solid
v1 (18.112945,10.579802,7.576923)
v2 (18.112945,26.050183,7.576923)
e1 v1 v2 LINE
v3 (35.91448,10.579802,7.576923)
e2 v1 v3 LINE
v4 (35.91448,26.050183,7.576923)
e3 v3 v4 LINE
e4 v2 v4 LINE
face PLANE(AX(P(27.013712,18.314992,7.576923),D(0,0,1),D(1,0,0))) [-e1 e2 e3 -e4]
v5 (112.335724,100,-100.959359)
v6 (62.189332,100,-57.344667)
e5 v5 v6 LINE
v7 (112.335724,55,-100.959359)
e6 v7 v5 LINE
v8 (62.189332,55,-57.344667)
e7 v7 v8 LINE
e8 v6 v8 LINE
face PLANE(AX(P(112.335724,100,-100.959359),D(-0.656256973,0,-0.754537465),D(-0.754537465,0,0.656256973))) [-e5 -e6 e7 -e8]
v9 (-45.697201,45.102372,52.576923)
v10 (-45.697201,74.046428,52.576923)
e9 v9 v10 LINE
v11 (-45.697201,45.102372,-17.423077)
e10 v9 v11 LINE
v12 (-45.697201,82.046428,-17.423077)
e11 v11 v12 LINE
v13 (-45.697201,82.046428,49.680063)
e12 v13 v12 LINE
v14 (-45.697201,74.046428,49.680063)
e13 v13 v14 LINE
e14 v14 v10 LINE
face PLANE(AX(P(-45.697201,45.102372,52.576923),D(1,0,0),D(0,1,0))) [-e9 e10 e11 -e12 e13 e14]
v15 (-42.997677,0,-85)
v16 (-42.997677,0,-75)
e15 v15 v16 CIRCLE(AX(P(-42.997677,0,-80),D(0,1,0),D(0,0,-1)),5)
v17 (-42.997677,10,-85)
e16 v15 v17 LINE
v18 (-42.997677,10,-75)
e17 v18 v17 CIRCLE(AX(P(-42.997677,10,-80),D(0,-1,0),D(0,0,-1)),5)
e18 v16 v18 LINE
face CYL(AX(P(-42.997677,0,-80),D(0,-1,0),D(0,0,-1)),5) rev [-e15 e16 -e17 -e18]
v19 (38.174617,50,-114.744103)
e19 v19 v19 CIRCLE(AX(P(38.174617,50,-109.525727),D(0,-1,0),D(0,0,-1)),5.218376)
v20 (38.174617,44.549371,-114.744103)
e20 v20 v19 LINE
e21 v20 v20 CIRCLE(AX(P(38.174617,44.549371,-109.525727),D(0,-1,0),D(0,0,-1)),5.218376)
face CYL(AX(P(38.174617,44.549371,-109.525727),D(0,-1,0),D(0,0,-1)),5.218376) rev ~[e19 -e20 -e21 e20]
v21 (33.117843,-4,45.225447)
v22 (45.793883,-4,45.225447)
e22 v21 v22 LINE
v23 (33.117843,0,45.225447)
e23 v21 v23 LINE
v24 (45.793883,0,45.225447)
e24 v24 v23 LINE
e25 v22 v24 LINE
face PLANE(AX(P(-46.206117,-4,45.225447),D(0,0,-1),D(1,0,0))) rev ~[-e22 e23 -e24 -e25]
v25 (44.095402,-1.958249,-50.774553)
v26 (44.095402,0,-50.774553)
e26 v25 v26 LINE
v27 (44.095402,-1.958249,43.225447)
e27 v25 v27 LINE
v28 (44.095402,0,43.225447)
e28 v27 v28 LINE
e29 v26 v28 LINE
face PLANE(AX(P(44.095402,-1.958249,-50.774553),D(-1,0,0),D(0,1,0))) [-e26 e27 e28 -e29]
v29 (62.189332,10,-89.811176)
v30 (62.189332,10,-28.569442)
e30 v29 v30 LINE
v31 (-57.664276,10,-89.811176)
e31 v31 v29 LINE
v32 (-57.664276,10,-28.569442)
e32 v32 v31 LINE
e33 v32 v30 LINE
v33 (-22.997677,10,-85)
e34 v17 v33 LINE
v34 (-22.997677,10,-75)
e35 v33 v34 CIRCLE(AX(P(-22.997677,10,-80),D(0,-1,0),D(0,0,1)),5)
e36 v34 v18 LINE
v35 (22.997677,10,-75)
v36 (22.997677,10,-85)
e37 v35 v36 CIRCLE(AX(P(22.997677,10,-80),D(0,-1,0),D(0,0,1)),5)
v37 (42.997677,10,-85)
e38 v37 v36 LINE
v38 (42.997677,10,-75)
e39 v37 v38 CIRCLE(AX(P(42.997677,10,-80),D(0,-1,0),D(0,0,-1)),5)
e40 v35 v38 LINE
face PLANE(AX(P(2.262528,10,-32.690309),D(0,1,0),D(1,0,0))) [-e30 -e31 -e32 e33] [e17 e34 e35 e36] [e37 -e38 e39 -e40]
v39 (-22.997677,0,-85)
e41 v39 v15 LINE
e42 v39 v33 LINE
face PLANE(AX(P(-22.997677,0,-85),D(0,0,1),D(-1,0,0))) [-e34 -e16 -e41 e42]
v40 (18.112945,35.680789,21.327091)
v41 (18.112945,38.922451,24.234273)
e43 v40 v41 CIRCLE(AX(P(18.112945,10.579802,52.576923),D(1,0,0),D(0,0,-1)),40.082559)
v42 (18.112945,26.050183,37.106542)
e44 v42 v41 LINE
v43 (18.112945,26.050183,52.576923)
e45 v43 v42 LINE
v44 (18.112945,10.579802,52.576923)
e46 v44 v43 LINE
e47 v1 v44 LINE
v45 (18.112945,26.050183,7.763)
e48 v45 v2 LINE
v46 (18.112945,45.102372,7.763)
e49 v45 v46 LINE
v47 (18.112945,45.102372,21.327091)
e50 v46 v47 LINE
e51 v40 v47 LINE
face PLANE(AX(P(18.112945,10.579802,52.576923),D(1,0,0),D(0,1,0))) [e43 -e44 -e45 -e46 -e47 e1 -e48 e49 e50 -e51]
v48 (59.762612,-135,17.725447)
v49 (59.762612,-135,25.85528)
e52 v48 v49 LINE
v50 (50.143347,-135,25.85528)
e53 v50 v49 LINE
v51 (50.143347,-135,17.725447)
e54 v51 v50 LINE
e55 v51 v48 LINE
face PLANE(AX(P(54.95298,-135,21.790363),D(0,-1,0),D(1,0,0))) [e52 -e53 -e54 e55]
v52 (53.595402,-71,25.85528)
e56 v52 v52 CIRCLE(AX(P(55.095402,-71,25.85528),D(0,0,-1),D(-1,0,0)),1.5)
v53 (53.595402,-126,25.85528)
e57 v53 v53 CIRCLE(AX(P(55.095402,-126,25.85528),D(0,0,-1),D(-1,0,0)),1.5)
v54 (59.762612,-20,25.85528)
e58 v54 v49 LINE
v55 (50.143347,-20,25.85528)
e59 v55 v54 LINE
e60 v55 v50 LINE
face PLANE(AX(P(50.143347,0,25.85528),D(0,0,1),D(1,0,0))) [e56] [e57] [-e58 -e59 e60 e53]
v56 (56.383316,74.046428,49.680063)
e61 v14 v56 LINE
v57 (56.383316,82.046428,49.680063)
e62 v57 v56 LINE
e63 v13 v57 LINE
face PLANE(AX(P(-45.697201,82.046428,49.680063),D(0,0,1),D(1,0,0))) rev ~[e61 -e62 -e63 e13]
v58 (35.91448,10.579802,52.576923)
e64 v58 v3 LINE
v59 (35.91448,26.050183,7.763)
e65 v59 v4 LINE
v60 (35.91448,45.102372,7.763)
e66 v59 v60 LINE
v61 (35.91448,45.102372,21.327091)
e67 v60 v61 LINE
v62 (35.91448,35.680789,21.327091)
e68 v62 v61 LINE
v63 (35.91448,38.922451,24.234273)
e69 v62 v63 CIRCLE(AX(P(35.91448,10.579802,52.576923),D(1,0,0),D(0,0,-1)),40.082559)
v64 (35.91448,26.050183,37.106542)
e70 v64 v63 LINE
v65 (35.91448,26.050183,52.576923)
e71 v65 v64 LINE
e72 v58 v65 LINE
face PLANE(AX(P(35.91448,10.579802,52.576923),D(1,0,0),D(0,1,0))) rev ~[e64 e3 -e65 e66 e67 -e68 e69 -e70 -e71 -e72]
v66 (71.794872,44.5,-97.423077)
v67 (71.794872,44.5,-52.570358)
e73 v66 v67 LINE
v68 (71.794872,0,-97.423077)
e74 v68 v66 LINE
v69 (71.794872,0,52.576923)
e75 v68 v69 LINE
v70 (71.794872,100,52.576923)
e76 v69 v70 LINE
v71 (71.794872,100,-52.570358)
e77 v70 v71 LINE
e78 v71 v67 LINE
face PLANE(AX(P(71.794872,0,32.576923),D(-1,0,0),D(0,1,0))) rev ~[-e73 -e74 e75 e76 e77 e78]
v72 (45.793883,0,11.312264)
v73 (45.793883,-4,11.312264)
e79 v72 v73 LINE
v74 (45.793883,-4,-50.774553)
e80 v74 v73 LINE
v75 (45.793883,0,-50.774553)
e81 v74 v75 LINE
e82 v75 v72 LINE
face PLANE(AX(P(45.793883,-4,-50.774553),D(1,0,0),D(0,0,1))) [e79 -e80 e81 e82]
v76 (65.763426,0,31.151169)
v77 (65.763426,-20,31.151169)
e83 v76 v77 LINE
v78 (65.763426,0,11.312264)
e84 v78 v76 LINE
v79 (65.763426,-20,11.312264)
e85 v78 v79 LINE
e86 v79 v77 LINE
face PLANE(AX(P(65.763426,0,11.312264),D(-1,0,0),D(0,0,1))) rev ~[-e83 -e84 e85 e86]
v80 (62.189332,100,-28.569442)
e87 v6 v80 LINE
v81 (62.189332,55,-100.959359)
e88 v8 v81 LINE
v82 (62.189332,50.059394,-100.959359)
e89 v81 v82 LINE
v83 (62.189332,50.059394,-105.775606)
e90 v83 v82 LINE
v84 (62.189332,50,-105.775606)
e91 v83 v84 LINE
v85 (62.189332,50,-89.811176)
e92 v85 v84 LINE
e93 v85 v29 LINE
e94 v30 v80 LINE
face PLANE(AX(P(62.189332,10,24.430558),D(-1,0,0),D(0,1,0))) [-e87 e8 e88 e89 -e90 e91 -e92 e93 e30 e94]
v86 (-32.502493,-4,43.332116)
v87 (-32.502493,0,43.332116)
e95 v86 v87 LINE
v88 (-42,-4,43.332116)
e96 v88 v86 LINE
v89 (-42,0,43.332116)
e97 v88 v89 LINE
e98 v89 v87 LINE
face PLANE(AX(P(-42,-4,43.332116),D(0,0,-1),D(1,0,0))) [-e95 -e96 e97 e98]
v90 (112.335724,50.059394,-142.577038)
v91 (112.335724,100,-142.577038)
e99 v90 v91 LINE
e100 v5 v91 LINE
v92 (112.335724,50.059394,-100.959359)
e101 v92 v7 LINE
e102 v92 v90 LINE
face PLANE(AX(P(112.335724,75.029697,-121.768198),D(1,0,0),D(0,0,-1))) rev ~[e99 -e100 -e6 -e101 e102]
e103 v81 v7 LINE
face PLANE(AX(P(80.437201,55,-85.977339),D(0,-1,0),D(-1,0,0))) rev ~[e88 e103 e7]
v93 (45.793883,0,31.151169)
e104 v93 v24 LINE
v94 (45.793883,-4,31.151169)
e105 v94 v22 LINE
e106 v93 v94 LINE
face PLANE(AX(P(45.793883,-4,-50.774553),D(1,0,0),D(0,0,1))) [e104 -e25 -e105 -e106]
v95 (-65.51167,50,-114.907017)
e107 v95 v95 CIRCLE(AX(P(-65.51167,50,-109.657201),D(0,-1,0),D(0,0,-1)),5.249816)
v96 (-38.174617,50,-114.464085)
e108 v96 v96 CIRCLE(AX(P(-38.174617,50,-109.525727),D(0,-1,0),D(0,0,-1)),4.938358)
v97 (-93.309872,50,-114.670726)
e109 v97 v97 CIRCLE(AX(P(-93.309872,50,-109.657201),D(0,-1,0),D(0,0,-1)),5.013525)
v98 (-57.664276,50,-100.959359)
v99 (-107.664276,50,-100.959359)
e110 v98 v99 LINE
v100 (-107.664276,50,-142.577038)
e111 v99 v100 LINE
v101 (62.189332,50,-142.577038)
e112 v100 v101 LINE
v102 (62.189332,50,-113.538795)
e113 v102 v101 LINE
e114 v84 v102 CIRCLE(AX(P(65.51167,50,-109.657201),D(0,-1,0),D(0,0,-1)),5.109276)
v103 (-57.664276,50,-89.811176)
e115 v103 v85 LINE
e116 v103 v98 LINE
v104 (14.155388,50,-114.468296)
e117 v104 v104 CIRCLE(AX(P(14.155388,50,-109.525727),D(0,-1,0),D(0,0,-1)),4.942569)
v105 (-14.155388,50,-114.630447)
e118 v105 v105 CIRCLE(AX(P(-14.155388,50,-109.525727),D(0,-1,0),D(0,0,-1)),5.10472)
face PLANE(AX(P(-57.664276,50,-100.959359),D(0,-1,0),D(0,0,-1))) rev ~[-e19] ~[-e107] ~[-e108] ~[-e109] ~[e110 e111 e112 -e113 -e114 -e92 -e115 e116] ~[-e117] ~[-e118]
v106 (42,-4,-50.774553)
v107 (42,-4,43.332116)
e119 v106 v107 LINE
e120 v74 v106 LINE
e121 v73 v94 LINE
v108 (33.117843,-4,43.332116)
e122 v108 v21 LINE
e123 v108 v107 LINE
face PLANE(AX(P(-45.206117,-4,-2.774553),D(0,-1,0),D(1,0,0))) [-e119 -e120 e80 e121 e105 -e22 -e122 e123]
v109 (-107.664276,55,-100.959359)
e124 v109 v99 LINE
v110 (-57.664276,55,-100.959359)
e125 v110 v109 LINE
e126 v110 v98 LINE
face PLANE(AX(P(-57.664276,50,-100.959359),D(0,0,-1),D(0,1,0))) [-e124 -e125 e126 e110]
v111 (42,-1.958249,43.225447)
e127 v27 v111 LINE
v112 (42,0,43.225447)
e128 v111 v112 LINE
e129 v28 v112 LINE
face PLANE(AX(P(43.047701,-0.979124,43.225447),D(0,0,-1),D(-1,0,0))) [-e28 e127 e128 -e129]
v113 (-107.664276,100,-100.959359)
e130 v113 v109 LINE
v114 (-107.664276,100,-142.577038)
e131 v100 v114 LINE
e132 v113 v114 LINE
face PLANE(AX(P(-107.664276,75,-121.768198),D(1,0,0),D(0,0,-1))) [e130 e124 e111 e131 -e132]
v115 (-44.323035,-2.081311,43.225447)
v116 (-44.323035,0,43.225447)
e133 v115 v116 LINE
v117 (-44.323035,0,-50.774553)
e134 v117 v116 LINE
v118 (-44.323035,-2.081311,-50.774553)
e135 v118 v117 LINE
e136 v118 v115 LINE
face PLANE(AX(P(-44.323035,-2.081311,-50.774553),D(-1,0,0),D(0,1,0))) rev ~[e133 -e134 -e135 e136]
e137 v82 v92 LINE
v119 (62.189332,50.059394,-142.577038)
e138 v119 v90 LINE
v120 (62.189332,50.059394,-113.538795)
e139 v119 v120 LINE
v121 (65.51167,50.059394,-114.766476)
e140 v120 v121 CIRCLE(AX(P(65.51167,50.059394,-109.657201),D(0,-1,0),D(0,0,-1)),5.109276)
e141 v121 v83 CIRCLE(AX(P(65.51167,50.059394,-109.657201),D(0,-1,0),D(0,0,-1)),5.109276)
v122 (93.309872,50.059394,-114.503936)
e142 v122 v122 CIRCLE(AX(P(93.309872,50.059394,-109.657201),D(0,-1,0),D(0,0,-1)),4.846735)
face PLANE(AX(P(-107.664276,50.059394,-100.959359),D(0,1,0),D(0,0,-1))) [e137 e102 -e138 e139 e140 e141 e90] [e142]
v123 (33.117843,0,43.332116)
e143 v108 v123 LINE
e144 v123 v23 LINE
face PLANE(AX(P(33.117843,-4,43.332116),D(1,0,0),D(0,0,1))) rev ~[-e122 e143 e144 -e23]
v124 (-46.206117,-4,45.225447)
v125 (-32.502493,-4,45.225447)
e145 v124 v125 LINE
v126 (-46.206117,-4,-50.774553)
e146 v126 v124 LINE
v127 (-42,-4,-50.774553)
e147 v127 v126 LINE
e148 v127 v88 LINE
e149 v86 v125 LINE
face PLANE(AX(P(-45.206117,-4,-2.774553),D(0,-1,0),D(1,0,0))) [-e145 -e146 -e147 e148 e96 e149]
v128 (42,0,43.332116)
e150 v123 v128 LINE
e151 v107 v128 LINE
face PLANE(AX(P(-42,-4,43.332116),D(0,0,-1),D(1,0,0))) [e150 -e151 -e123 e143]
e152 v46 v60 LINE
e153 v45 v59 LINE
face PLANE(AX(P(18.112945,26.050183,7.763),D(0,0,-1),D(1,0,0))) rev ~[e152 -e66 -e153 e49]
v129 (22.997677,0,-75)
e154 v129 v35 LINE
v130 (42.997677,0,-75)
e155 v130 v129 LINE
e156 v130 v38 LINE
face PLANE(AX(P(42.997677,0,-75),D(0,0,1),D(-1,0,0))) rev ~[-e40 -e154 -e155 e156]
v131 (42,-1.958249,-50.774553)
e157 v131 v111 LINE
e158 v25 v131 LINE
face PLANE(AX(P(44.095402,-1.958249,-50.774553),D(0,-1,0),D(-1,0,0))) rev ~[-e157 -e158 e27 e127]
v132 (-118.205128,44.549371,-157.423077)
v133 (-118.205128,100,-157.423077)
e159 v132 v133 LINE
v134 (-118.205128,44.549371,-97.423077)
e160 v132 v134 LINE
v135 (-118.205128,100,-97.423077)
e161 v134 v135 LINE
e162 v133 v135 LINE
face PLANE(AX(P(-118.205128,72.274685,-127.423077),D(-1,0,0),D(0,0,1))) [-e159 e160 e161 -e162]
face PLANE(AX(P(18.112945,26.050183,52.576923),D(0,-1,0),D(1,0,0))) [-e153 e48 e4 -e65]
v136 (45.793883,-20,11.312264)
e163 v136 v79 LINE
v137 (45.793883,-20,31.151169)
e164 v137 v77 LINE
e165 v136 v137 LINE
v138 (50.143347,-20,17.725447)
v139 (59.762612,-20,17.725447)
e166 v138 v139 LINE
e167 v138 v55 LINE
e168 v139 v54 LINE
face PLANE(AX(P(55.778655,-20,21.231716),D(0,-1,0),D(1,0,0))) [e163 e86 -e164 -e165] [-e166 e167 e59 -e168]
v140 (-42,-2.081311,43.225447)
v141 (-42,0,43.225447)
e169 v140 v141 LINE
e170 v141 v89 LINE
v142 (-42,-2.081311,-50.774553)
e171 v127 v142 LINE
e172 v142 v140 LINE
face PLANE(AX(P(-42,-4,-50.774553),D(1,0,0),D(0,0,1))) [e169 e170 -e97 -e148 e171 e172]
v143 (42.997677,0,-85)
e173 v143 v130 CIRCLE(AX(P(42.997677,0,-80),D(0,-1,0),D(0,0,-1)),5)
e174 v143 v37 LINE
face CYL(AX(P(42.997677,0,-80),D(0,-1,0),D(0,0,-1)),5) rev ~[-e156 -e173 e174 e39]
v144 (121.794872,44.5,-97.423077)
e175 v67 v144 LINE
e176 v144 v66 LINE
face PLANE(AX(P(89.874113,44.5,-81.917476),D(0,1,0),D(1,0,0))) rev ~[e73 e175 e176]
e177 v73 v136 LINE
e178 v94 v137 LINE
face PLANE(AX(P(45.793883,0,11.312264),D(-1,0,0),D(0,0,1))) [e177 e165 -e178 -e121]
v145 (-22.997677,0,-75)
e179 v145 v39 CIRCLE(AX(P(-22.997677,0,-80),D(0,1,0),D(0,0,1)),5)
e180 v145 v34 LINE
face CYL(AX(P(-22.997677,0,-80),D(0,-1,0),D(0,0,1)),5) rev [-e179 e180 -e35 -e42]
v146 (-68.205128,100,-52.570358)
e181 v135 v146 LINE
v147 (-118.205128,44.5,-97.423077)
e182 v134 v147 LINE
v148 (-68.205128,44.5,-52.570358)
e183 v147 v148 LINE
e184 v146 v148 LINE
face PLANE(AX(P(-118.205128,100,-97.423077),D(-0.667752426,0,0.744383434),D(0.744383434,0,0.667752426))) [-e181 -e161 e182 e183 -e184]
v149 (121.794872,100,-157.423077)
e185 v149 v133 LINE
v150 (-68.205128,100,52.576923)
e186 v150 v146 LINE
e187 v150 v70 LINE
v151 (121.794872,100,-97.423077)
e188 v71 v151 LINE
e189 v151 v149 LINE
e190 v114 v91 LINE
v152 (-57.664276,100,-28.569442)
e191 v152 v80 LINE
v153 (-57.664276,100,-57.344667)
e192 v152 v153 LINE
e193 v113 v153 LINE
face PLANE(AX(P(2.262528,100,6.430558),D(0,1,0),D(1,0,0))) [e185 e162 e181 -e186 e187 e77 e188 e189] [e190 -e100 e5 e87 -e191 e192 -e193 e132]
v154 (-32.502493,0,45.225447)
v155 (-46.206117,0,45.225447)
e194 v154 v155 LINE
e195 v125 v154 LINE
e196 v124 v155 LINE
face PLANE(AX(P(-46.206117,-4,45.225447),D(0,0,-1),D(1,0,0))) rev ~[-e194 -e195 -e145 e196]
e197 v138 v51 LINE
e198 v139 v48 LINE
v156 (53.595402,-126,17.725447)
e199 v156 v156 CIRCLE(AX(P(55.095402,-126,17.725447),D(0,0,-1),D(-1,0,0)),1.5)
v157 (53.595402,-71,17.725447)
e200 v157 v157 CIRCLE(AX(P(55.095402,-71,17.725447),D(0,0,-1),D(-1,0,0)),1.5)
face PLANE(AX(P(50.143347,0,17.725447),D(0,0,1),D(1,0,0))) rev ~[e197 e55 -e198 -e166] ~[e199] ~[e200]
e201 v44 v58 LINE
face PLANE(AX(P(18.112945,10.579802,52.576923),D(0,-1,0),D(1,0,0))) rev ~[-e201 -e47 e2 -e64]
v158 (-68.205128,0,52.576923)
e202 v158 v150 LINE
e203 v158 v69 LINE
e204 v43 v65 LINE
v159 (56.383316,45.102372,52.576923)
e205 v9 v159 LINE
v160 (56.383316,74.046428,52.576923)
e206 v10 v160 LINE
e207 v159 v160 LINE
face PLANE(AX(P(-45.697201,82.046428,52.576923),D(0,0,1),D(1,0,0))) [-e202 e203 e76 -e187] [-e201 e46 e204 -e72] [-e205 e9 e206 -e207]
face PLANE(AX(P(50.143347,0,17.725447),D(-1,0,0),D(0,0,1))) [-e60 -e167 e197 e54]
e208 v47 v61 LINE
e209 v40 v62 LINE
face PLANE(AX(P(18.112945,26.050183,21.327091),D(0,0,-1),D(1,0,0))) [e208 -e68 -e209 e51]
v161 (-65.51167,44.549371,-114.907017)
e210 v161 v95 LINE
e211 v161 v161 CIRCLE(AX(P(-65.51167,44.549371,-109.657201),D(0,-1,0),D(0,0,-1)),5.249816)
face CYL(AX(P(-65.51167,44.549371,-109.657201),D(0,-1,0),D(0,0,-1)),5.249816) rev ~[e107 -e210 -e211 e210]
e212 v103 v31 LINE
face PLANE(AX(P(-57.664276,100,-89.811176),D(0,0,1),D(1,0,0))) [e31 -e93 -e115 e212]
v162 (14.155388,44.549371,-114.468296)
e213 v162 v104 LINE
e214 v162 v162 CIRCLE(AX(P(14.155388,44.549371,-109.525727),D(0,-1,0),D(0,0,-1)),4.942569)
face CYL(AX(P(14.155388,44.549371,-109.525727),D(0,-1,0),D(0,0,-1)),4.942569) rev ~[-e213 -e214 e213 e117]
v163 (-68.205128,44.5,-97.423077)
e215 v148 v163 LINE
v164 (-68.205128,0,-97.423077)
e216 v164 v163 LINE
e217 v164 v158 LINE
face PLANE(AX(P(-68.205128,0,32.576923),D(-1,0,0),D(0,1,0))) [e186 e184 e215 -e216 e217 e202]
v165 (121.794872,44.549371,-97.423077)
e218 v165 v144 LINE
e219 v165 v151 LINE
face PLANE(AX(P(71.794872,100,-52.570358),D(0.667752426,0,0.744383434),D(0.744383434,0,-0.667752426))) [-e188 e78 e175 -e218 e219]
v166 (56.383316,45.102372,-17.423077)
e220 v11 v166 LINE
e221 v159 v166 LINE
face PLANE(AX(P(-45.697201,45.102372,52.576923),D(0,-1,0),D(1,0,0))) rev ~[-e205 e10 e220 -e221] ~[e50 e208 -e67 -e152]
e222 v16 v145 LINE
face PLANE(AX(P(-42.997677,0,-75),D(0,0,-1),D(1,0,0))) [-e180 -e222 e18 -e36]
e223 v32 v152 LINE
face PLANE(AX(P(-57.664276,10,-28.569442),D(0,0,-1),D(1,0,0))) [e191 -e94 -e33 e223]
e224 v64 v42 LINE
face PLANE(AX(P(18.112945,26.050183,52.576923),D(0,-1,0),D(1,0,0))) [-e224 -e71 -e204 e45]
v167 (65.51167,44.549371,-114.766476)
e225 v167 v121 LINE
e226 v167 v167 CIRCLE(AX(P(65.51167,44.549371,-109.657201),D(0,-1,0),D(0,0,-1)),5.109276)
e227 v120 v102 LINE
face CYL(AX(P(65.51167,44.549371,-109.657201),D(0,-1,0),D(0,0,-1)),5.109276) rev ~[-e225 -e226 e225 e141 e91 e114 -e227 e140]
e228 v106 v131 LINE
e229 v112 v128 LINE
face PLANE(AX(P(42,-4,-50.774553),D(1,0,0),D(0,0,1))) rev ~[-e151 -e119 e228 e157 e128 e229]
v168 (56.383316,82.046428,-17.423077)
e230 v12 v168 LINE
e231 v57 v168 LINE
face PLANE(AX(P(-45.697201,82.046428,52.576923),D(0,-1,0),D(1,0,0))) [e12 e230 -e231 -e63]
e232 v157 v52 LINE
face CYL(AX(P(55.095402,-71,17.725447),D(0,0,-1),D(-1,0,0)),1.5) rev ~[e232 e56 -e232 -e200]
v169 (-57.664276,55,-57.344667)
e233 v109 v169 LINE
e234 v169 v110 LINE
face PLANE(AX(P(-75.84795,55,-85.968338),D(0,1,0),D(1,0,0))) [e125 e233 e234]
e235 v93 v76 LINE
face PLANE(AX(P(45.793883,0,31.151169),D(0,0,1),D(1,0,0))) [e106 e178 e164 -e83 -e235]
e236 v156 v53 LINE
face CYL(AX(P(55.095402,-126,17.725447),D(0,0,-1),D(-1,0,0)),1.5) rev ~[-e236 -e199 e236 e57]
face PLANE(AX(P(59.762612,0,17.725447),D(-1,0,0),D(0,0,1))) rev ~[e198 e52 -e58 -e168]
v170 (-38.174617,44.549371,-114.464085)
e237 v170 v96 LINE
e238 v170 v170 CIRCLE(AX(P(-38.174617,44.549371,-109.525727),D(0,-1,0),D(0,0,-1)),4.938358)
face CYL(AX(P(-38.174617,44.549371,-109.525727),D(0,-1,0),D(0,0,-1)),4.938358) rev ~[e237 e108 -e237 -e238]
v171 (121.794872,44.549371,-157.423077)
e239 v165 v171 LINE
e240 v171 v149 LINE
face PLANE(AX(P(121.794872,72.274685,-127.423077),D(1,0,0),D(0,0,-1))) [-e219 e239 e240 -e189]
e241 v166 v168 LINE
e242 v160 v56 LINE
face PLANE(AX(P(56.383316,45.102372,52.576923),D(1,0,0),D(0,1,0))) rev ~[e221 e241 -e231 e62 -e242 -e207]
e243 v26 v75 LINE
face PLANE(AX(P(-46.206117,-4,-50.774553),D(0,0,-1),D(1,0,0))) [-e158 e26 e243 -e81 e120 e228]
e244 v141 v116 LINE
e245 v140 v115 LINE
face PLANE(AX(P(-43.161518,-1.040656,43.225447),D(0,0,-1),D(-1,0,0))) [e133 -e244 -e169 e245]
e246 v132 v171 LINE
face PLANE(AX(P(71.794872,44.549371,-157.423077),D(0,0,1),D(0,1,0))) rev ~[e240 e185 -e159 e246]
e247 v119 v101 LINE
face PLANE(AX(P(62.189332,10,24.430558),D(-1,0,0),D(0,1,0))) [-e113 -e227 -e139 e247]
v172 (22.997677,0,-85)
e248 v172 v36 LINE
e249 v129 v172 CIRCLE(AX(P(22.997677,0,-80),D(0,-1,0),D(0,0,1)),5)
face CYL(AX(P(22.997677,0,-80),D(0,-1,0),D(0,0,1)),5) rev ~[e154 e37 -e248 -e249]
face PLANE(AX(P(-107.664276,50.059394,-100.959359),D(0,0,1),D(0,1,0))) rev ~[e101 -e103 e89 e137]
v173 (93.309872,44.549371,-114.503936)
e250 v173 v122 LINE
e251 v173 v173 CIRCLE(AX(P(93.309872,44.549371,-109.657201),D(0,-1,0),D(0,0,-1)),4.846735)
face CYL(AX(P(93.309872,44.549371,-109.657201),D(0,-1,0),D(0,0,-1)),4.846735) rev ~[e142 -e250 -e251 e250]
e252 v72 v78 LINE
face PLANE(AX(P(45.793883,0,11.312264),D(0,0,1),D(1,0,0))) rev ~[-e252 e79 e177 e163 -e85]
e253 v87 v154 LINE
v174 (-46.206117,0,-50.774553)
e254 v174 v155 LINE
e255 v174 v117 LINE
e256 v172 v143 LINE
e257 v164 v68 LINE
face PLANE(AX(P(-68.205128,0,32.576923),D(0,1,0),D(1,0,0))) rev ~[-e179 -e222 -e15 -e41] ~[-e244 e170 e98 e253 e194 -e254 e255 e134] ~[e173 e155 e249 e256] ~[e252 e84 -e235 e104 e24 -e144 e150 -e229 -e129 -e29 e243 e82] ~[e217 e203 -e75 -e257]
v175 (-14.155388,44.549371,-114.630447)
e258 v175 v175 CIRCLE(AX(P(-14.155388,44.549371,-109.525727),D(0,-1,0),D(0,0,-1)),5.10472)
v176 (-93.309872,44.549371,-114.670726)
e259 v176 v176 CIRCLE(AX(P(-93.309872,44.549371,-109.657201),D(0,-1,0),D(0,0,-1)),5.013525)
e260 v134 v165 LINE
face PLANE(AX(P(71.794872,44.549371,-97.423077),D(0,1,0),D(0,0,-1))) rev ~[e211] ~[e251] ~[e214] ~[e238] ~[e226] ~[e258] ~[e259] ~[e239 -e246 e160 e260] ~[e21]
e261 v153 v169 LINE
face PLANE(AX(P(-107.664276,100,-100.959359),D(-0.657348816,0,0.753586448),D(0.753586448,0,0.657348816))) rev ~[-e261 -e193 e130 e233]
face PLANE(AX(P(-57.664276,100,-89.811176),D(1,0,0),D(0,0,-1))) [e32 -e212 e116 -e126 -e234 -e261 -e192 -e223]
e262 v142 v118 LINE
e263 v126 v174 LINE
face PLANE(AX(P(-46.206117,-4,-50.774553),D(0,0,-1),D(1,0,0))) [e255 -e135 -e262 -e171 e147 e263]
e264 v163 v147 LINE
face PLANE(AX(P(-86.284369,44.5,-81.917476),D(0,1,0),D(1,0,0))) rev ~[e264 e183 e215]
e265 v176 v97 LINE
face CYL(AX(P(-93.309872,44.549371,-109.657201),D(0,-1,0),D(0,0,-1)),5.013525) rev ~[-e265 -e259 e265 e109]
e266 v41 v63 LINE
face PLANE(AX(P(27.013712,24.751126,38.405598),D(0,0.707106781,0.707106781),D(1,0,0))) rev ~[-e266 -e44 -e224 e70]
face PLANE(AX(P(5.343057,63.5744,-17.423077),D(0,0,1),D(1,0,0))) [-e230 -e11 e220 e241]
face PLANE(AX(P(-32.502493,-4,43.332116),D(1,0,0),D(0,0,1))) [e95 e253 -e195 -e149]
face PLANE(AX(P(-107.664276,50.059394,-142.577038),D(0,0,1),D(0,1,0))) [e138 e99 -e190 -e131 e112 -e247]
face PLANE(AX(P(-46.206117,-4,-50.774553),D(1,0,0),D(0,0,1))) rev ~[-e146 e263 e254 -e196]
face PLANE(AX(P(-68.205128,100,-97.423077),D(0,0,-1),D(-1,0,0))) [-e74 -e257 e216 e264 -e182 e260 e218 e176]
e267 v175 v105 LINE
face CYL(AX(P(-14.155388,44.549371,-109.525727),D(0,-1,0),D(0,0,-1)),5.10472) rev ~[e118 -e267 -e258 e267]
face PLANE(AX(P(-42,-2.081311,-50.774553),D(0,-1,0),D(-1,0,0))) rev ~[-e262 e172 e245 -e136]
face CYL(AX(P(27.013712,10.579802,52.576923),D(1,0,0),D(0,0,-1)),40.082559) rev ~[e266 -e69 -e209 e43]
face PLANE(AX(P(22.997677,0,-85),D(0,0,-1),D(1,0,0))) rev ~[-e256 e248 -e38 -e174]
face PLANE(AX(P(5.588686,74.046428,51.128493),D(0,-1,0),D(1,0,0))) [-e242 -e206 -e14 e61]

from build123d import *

# Parameters (mm, degrees)
SKETCH_8_W           = 140
SKETCH_8_H           = 130
EXTRUDE_2_DEPTH      = 100
SKETCH_9_W           = 119.853608507
SKETCH_9_H           = 114.241733861
CUT_EXTRUDE_2_DEPTH  = 90
SKETCH_10_W          = 140
SKETCH_10_H          = 55.45062913
EXTRUDE_3_DEPTH      = 60
SKETCH_11_W          = 119.853608507
SKETCH_11_H          = 52.765862156
CUT_EXTRUDE_3_DEPTH  = 50
SKETCH_12_W          = 60
SKETCH_12_H          = 55.45062913
EXTRUDE_4_DEPTH      = 50
SKETCH_13_W          = 60
SKETCH_13_H          = 55.45062913
EXTRUDE_5_DEPTH      = 50
SKETCH_15_W          = 41.61767962
SKETCH_15_H          = 50
CUT_EXTRUDE_5_DEPTH  = 50
SKETCH_16_W          = 41.61767962
SKETCH_16_H          = 49.940605531
CUT_EXTRUDE_6_DEPTH  = 220
SKETCH_18_W          = 140
SKETCH_18_H          = 100
EXTRUDE_6_DEPTH      = 20
SKETCH_19_W          = 119.853608507
SKETCH_19_H          = 90
CUT_EXTRUDE_7_DEPTH  = 17
CUT_EXTRUDE_8_DEPTH  = 17
SKETCH_29_R          = 5.01352521
SKETCH_29_R_2        = 5.249816441
SKETCH_29_R_3        = 4.93835751
SKETCH_29_R_4        = 5.104719563
SKETCH_29_R_5        = 4.942569228
SKETCH_29_R_6        = 5.218376227
SKETCH_29_R_7        = 5.109275874
SKETCH_29_R_8        = 4.846735289
CUT_EXTRUDE_9_DEPTH  = 17
EXTRUDE_9_DEPTH      = 4
SKETCH_37_W          = 2
SKETCH_37_H          = 96
EXTRUDE_10_DEPTH     = 4
SKETCH_39_W          = 84
SKETCH_39_H          = 94.106669422
CUT_EXTRUDE_10_DEPTH = 4
SKETCH_40_W          = 2.323035316
SKETCH_40_H          = 2.081311216
CUT_EXTRUDE_12_DEPTH = 94
SKETCH_42_W          = 2.095402412
SKETCH_42_H          = 1.958248824
CUT_EXTRUDE_13_DEPTH = 94
SKETCH_43_W          = 9.619264996
SKETCH_43_H          = 8.129833148
EXTRUDE_11_DEPTH     = 135
SKETCH_44_R          = 1.5
CUT_EXTRUDE_14_DEPTH = 40
SKETCH_45_W          = 19.969543159
SKETCH_45_H          = 19.838905337
EXTRUDE_12_DEPTH     = 20
EXTRUDE_13_DEPTH     = 55.5
CUT_EXTRUDE_15_DEPTH = 45
SKETCH_50_W          = 119.853608507
SKETCH_50_H          = 70
EXTRUDE_14_DEPTH     = 90
SKETCH_51_W          = 102.080516597
SKETCH_51_H          = 36.944055187
CUT_EXTRUDE_17_DEPTH = 70
SKETCH_52_W          = 102.571773441
SKETCH_52_H          = 2.896860024
EXTRUDE_16_DEPTH     = 8
SKETCH_54_W          = 65.620335911
SKETCH_54_H          = 1.893330578
CUT_EXTRUDE_18_DEPTH = 4
SKETCH_55_W          = 6.653347609
SKETCH_55_H          = 11.160454054
EXTRUDE_17_DEPTH     = 8
SKETCH_56_W          = 4.450383643
SKETCH_56_H          = 9.96038244
EXTRUDE_18_DEPTH     = 8
SKETCH_57_R          = 1.5
CUT_EXTRUDE_19_DEPTH = 20
SKETCH_58_W          = 17.801534575
SKETCH_58_H          = 15.470381237
CUT_EXTRUDE_21_DEPTH = 45
SKETCH_59_W          = 17.801534575
SKETCH_59_H          = 13.564090588
CUT_EXTRUDE_22_DEPTH = 25
SKETCH_62_W          = 17.801534575
SKETCH_62_H          = 40.082559496
CUT_REVOLVE_1_ANGLE  = 45


with BuildPart() as part:
    # 草图8 → 凸台-拉伸2 (new body)
    with BuildSketch(Plane(origin=(0, 0, 0), x_dir=(1, 0, 0), z_dir=(0, 1, 0))):
        with Locations((1.794871795, 32.423076923)):
            Rectangle(SKETCH_8_W, SKETCH_8_H)
    extrude(amount=EXTRUDE_2_DEPTH)

    # 草图9 → 切除-拉伸2 (cut)
    with BuildSketch(Plane(origin=(0, 100, 0), x_dir=(1, 0, 0), z_dir=(0, 1, 0))):
        with Locations((2.262528015, 32.69030905)):
            Rectangle(SKETCH_9_W, SKETCH_9_H)
    extrude(amount=-CUT_EXTRUDE_2_DEPTH, mode=Mode.SUBTRACT)

    # 草图10 → 凸台-拉伸3 (add)
    with BuildSketch(Plane(origin=(0, 0, -97.423076923), x_dir=(-1, 0, 0), z_dir=(0, 0, -1))):
        with Locations((-1.794871795, 72.274685435)):
            Rectangle(SKETCH_10_W, SKETCH_10_H)
    extrude(amount=EXTRUDE_3_DEPTH)

    # 草图11 → 切除-拉伸3 (cut)
    with BuildSketch(Plane(origin=(0, 100, 0), x_dir=(1, 0, 0), z_dir=(0, 1, 0))):
        with Locations((2.262528015, 116.194107058)):
            Rectangle(SKETCH_11_W, SKETCH_11_H)
    extrude(amount=-CUT_EXTRUDE_3_DEPTH, mode=Mode.SUBTRACT)

    # 草图12 → 凸台-拉伸4 (add)
    with BuildSketch(Plane.ZY.offset(68.205128205)):
        with Locations((-127.423076923, 72.274685435)):
            Rectangle(SKETCH_12_W, SKETCH_12_H)
    extrude(amount=EXTRUDE_4_DEPTH)

    # 草图13 → 凸台-拉伸5 (add)
    with BuildSketch(Plane(origin=(71.794871795, 0, 0), x_dir=(0, 0, -1), z_dir=(1, 0, 0))):
        with Locations((127.423076923, 72.274685435)):
            Rectangle(SKETCH_13_W, SKETCH_13_H)
    extrude(amount=EXTRUDE_5_DEPTH)

    # 草图15 → 切除-拉伸5 (cut)
    with BuildSketch(Plane(origin=(-57.664276238, 0, 0), x_dir=(0, 0, -1), z_dir=(1, 0, 0))):
        with Locations((121.768198326, 75)):
            Rectangle(SKETCH_15_W, SKETCH_15_H)
    extrude(amount=-CUT_EXTRUDE_5_DEPTH, mode=Mode.SUBTRACT)

    # 草图16 → 切除-拉伸6 (cut)
    with BuildSketch(Plane(origin=(-107.664276238, 0, 0), x_dir=(0, 0, -1), z_dir=(1, 0, 0))):
        with Locations((121.768198326, 75.029697235)):
            Rectangle(SKETCH_16_W, SKETCH_16_H)
    extrude(amount=CUT_EXTRUDE_6_DEPTH, mode=Mode.SUBTRACT)

    # 草图18 → 凸台-拉伸6 (add)
    with BuildSketch(Plane.XY.offset(32.576923077)):
        with Locations((1.794871795, 50)):
            Rectangle(SKETCH_18_W, SKETCH_18_H)
    extrude(amount=EXTRUDE_6_DEPTH)

    # 草图19 → 切除-拉伸7 (cut)
    with BuildSketch(Plane(origin=(0, 0, 24.430557881), x_dir=(-1, 0, 0), z_dir=(0, 0, -1))):
        with Locations((-2.262528015, 55)):
            Rectangle(SKETCH_19_W, SKETCH_19_H)
    extrude(amount=-CUT_EXTRUDE_7_DEPTH, mode=Mode.SUBTRACT)

    # 草图20 → 切除-拉伸8 (cut)
    with BuildSketch(Plane.XZ):
        with BuildLine():
            Line((-42.997677053, -75), (-22.997677053, -75))
            ThreePointArc((-22.997677053, -75), (-17.997677053, -80), (-22.997677053, -85))
            Line((-22.997677053, -85), (-42.997677053, -85))
            ThreePointArc((-42.997677053, -85), (-47.997677053, -80), (-42.997677053, -75))
        make_face()
        with BuildLine():
            Line((22.997677053, -85), (42.997677053, -85))
            ThreePointArc((42.997677053, -85), (47.997677053, -80), (42.997677053, -75))
            Line((42.997677053, -75), (22.997677053, -75))
            ThreePointArc((22.997677053, -75), (17.997677053, -80), (22.997677053, -85))
        make_face()
    extrude(amount=-CUT_EXTRUDE_8_DEPTH, mode=Mode.SUBTRACT)

    # 草图29 → 切除-拉伸9 (cut)
    with BuildSketch(Plane.XZ.offset(-44.54937087)):
        with Locations(Location((-93.309871888, -109.657200503, 0), (0, 0, 270))):
            Circle(SKETCH_29_R)
        with Locations(Location((-65.511669659, -109.657200503, 0), (0, 0, 270))):
            Circle(SKETCH_29_R_2)
        with Locations(Location((-38.174617175, -109.525727046, 0), (0, 0, 270))):
            Circle(SKETCH_29_R_3)
        with Locations(Location((-14.155387991, -109.525727046, 0), (0, 0, 270))):
            Circle(SKETCH_29_R_4)
        with Locations(Location((14.155387991, -109.525727046, 0), (0, 0, 270))):
            Circle(SKETCH_29_R_5)
        with Locations(Location((38.174617175, -109.525727046, 0), (0, 0, 270))):
            Circle(SKETCH_29_R_6)
        with Locations(Location((65.511669659, -109.657200503, 0), (0, 0, 270))):
            Circle(SKETCH_29_R_7)
        with Locations(Location((93.309871888, -109.657200503, 0), (0, 0, 270))):
            Circle(SKETCH_29_R_8)
    extrude(amount=-CUT_EXTRUDE_9_DEPTH, mode=Mode.SUBTRACT)

    # 草图17 → 凸台-拉伸9 (add)
    with BuildSketch(Plane(origin=(0, 0, 0), x_dir=(-1, 0, 0), z_dir=(0, -1, 0))):
        Polygon((44.206117019, 0), (44.206117019, -45.225446523), (-43.793882981, -45.225446523), (-43.793882981, 0), (-43.793882981, 50.774553477), (44.206117019, 50.774553477), align=None)
    extrude(amount=EXTRUDE_9_DEPTH)

    # 草图37 → 凸台-拉伸10 (add)
    with BuildSketch(Plane.XZ.offset(4)):
        with Locations((-45.206117019, -2.774553477)):
            Rectangle(SKETCH_37_W, SKETCH_37_H)
        with Locations((44.793882981, -2.774553477)):
            Rectangle(SKETCH_37_W, SKETCH_37_H)
    extrude(amount=-EXTRUDE_10_DEPTH)

    # 草图39 → 切除-拉伸10 (cut)
    with BuildSketch(Plane.XZ.offset(4)):
        with Locations((0, -3.721218766)):
            Rectangle(SKETCH_39_W, SKETCH_39_H)
    extrude(amount=-CUT_EXTRUDE_10_DEPTH, mode=Mode.SUBTRACT)

    # 草图40 → 切除-拉伸12 (cut)
    with BuildSketch(Plane(origin=(0, 0, -50.774553477), x_dir=(-1, 0, 0), z_dir=(0, 0, -1))):
        with Locations((43.161517658, -1.040655608)):
            Rectangle(SKETCH_40_W, SKETCH_40_H)
    extrude(amount=-CUT_EXTRUDE_12_DEPTH, mode=Mode.SUBTRACT)

    # 草图42 → 切除-拉伸13 (cut)
    with BuildSketch(Plane(origin=(0, 0, -50.774553477), x_dir=(-1, 0, 0), z_dir=(0, 0, -1))):
        with Locations((-43.047701206, -0.979124412)):
            Rectangle(SKETCH_42_W, SKETCH_42_H)
    extrude(amount=-CUT_EXTRUDE_13_DEPTH, mode=Mode.SUBTRACT)

    # 草图43 → 凸台-拉伸11 (add)
    with BuildSketch(Plane.XZ):
        with Locations((54.952979828, 21.790363097)):
            Rectangle(SKETCH_43_W, SKETCH_43_H)
    extrude(amount=EXTRUDE_11_DEPTH)

    # 草图44 → 切除-拉伸14 (cut)
    with BuildSketch(Plane(origin=(0, 0, 17.725446523), x_dir=(-1, 0, 0), z_dir=(0, 0, -1))):
        with Locations((-55.095402412, -71)):
            Circle(SKETCH_44_R)
        with Locations((-55.095402412, -127)):
            Circle(SKETCH_44_R)
    extrude(amount=-CUT_EXTRUDE_14_DEPTH, mode=Mode.SUBTRACT)

    # 草图45 → 凸台-拉伸12 (add)
    with BuildSketch(Plane.XZ):
        with Locations((55.778654561, 21.231716271)):
            Rectangle(SKETCH_45_W, SKETCH_45_H)
    extrude(amount=EXTRUDE_12_DEPTH)

    # 草图46 → 凸台-拉伸13 (add)
    with BuildSketch(Plane(origin=(0, 100, 0), x_dir=(1, 0, 0), z_dir=(0, 1, 0))):
        Polygon((-118.205128205, 97.423076923), (-68.205128205, 52.570357533), (-68.205128205, 97.423076923), align=None)
        Polygon((71.794871795, 97.423076923), (71.794871795, 52.570357533), (121.794871795, 97.423076923), align=None)
    extrude(amount=-EXTRUDE_13_DEPTH)

    # 草图47 → 切除-拉伸15 (cut)
    with BuildSketch(Plane(origin=(0, 100, 0), x_dir=(1, 0, 0), z_dir=(0, 1, 0))):
        Polygon((-107.664276238, 100.959358516), (-57.664276238, 57.344666553), (-57.664276238, 100.959358516), align=None)
        Polygon((112.335723762, 100.959358516), (62.189332269, 57.344666553), (62.189332269, 100.959358516), align=None)
    extrude(amount=-CUT_EXTRUDE_15_DEPTH, mode=Mode.SUBTRACT)

    # 草图50 → 凸台-拉伸14 (add)
    with BuildSketch(Plane(origin=(0, 10, 0), x_dir=(1, 0, 0), z_dir=(0, 1, 0))):
        with Locations((2.262528015, -6.430557881)):
            Rectangle(SKETCH_50_W, SKETCH_50_H)
    extrude(amount=EXTRUDE_14_DEPTH)

    # 草图51 → 切除-拉伸17 (cut)
    with BuildSketch(Plane.XY.offset(52.576923077)):
        with Locations((5.343057287, 63.574399949)):
            Rectangle(SKETCH_51_W, SKETCH_51_H)
    extrude(amount=-CUT_EXTRUDE_17_DEPTH, mode=Mode.SUBTRACT)

    # 草图52 → 凸台-拉伸16 (add)
    with BuildSketch(Plane.XZ.offset(-82.046427542)):
        with Locations((5.588685709, 51.128493065)):
            Rectangle(SKETCH_52_W, SKETCH_52_H)
    extrude(amount=EXTRUDE_16_DEPTH)

    # 草图54 → 切除-拉伸18 (cut)
    with BuildSketch(Plane.XZ.offset(4)):
        with Locations((0.307674718, 44.278781234)):
            Rectangle(SKETCH_54_W, SKETCH_54_H)
    extrude(amount=-CUT_EXTRUDE_18_DEPTH, mode=Mode.SUBTRACT)

    # 草图55 → 凸台-拉伸17 (add)
    with BuildSketch(Plane(origin=(0, 0, 17.725446523), x_dir=(-1, 0, 0), z_dir=(0, 0, -1))):
        with Locations((-54.914340612, -127.919346869)):
            Rectangle(SKETCH_55_W, SKETCH_55_H)
    extrude(amount=-EXTRUDE_17_DEPTH)

    # 草图56 → 凸台-拉伸18 (add)
    with BuildSketch(Plane.XY.offset(25.855279671)):
        with Locations((55.093514005, -127.911898971)):
            Rectangle(SKETCH_56_W, SKETCH_56_H)
    extrude(amount=-EXTRUDE_18_DEPTH)

    # 草图57 → 切除-拉伸19 (cut)
    with BuildSketch(Plane(origin=(0, 0, 17.725446523), x_dir=(-1, 0, 0), z_dir=(0, 0, -1))):
        with Locations((-55.095402412, -126)):
            Circle(SKETCH_57_R)
    extrude(amount=-CUT_EXTRUDE_19_DEPTH, mode=Mode.SUBTRACT)

    # 草图58 → 切除-拉伸21 (cut)
    with BuildSketch(Plane.XY.offset(52.576923077)):
        with Locations((27.013712443, 18.31499218)):
            Rectangle(SKETCH_58_W, SKETCH_58_H)
    extrude(amount=-CUT_EXTRUDE_21_DEPTH, mode=Mode.SUBTRACT)

    # 草图59 → 切除-拉伸22 (cut)
    with BuildSketch(Plane.XZ.offset(-26.050182799)):
        with Locations((27.013712443, 14.545045525)):
            Rectangle(SKETCH_59_W, SKETCH_59_H)
    extrude(amount=-CUT_EXTRUDE_22_DEPTH, mode=Mode.SUBTRACT)

    # 草图62 → 切除-旋转1 (revolve, cut)
    with BuildSketch(Plane(origin=(0, 10.579801562, 0), x_dir=(1, 0, 0), z_dir=(0, 1, 0))):
        with Locations((27.013712443, -32.535643329)):
            Rectangle(SKETCH_62_W, SKETCH_62_H)
    revolve(axis=Axis((18.112945155, 10.579801562, 52.576923077), (1, 0, 0)), revolution_arc=CUT_REVOLVE_1_ANGLE, mode=Mode.SUBTRACT)


solid = part.part
